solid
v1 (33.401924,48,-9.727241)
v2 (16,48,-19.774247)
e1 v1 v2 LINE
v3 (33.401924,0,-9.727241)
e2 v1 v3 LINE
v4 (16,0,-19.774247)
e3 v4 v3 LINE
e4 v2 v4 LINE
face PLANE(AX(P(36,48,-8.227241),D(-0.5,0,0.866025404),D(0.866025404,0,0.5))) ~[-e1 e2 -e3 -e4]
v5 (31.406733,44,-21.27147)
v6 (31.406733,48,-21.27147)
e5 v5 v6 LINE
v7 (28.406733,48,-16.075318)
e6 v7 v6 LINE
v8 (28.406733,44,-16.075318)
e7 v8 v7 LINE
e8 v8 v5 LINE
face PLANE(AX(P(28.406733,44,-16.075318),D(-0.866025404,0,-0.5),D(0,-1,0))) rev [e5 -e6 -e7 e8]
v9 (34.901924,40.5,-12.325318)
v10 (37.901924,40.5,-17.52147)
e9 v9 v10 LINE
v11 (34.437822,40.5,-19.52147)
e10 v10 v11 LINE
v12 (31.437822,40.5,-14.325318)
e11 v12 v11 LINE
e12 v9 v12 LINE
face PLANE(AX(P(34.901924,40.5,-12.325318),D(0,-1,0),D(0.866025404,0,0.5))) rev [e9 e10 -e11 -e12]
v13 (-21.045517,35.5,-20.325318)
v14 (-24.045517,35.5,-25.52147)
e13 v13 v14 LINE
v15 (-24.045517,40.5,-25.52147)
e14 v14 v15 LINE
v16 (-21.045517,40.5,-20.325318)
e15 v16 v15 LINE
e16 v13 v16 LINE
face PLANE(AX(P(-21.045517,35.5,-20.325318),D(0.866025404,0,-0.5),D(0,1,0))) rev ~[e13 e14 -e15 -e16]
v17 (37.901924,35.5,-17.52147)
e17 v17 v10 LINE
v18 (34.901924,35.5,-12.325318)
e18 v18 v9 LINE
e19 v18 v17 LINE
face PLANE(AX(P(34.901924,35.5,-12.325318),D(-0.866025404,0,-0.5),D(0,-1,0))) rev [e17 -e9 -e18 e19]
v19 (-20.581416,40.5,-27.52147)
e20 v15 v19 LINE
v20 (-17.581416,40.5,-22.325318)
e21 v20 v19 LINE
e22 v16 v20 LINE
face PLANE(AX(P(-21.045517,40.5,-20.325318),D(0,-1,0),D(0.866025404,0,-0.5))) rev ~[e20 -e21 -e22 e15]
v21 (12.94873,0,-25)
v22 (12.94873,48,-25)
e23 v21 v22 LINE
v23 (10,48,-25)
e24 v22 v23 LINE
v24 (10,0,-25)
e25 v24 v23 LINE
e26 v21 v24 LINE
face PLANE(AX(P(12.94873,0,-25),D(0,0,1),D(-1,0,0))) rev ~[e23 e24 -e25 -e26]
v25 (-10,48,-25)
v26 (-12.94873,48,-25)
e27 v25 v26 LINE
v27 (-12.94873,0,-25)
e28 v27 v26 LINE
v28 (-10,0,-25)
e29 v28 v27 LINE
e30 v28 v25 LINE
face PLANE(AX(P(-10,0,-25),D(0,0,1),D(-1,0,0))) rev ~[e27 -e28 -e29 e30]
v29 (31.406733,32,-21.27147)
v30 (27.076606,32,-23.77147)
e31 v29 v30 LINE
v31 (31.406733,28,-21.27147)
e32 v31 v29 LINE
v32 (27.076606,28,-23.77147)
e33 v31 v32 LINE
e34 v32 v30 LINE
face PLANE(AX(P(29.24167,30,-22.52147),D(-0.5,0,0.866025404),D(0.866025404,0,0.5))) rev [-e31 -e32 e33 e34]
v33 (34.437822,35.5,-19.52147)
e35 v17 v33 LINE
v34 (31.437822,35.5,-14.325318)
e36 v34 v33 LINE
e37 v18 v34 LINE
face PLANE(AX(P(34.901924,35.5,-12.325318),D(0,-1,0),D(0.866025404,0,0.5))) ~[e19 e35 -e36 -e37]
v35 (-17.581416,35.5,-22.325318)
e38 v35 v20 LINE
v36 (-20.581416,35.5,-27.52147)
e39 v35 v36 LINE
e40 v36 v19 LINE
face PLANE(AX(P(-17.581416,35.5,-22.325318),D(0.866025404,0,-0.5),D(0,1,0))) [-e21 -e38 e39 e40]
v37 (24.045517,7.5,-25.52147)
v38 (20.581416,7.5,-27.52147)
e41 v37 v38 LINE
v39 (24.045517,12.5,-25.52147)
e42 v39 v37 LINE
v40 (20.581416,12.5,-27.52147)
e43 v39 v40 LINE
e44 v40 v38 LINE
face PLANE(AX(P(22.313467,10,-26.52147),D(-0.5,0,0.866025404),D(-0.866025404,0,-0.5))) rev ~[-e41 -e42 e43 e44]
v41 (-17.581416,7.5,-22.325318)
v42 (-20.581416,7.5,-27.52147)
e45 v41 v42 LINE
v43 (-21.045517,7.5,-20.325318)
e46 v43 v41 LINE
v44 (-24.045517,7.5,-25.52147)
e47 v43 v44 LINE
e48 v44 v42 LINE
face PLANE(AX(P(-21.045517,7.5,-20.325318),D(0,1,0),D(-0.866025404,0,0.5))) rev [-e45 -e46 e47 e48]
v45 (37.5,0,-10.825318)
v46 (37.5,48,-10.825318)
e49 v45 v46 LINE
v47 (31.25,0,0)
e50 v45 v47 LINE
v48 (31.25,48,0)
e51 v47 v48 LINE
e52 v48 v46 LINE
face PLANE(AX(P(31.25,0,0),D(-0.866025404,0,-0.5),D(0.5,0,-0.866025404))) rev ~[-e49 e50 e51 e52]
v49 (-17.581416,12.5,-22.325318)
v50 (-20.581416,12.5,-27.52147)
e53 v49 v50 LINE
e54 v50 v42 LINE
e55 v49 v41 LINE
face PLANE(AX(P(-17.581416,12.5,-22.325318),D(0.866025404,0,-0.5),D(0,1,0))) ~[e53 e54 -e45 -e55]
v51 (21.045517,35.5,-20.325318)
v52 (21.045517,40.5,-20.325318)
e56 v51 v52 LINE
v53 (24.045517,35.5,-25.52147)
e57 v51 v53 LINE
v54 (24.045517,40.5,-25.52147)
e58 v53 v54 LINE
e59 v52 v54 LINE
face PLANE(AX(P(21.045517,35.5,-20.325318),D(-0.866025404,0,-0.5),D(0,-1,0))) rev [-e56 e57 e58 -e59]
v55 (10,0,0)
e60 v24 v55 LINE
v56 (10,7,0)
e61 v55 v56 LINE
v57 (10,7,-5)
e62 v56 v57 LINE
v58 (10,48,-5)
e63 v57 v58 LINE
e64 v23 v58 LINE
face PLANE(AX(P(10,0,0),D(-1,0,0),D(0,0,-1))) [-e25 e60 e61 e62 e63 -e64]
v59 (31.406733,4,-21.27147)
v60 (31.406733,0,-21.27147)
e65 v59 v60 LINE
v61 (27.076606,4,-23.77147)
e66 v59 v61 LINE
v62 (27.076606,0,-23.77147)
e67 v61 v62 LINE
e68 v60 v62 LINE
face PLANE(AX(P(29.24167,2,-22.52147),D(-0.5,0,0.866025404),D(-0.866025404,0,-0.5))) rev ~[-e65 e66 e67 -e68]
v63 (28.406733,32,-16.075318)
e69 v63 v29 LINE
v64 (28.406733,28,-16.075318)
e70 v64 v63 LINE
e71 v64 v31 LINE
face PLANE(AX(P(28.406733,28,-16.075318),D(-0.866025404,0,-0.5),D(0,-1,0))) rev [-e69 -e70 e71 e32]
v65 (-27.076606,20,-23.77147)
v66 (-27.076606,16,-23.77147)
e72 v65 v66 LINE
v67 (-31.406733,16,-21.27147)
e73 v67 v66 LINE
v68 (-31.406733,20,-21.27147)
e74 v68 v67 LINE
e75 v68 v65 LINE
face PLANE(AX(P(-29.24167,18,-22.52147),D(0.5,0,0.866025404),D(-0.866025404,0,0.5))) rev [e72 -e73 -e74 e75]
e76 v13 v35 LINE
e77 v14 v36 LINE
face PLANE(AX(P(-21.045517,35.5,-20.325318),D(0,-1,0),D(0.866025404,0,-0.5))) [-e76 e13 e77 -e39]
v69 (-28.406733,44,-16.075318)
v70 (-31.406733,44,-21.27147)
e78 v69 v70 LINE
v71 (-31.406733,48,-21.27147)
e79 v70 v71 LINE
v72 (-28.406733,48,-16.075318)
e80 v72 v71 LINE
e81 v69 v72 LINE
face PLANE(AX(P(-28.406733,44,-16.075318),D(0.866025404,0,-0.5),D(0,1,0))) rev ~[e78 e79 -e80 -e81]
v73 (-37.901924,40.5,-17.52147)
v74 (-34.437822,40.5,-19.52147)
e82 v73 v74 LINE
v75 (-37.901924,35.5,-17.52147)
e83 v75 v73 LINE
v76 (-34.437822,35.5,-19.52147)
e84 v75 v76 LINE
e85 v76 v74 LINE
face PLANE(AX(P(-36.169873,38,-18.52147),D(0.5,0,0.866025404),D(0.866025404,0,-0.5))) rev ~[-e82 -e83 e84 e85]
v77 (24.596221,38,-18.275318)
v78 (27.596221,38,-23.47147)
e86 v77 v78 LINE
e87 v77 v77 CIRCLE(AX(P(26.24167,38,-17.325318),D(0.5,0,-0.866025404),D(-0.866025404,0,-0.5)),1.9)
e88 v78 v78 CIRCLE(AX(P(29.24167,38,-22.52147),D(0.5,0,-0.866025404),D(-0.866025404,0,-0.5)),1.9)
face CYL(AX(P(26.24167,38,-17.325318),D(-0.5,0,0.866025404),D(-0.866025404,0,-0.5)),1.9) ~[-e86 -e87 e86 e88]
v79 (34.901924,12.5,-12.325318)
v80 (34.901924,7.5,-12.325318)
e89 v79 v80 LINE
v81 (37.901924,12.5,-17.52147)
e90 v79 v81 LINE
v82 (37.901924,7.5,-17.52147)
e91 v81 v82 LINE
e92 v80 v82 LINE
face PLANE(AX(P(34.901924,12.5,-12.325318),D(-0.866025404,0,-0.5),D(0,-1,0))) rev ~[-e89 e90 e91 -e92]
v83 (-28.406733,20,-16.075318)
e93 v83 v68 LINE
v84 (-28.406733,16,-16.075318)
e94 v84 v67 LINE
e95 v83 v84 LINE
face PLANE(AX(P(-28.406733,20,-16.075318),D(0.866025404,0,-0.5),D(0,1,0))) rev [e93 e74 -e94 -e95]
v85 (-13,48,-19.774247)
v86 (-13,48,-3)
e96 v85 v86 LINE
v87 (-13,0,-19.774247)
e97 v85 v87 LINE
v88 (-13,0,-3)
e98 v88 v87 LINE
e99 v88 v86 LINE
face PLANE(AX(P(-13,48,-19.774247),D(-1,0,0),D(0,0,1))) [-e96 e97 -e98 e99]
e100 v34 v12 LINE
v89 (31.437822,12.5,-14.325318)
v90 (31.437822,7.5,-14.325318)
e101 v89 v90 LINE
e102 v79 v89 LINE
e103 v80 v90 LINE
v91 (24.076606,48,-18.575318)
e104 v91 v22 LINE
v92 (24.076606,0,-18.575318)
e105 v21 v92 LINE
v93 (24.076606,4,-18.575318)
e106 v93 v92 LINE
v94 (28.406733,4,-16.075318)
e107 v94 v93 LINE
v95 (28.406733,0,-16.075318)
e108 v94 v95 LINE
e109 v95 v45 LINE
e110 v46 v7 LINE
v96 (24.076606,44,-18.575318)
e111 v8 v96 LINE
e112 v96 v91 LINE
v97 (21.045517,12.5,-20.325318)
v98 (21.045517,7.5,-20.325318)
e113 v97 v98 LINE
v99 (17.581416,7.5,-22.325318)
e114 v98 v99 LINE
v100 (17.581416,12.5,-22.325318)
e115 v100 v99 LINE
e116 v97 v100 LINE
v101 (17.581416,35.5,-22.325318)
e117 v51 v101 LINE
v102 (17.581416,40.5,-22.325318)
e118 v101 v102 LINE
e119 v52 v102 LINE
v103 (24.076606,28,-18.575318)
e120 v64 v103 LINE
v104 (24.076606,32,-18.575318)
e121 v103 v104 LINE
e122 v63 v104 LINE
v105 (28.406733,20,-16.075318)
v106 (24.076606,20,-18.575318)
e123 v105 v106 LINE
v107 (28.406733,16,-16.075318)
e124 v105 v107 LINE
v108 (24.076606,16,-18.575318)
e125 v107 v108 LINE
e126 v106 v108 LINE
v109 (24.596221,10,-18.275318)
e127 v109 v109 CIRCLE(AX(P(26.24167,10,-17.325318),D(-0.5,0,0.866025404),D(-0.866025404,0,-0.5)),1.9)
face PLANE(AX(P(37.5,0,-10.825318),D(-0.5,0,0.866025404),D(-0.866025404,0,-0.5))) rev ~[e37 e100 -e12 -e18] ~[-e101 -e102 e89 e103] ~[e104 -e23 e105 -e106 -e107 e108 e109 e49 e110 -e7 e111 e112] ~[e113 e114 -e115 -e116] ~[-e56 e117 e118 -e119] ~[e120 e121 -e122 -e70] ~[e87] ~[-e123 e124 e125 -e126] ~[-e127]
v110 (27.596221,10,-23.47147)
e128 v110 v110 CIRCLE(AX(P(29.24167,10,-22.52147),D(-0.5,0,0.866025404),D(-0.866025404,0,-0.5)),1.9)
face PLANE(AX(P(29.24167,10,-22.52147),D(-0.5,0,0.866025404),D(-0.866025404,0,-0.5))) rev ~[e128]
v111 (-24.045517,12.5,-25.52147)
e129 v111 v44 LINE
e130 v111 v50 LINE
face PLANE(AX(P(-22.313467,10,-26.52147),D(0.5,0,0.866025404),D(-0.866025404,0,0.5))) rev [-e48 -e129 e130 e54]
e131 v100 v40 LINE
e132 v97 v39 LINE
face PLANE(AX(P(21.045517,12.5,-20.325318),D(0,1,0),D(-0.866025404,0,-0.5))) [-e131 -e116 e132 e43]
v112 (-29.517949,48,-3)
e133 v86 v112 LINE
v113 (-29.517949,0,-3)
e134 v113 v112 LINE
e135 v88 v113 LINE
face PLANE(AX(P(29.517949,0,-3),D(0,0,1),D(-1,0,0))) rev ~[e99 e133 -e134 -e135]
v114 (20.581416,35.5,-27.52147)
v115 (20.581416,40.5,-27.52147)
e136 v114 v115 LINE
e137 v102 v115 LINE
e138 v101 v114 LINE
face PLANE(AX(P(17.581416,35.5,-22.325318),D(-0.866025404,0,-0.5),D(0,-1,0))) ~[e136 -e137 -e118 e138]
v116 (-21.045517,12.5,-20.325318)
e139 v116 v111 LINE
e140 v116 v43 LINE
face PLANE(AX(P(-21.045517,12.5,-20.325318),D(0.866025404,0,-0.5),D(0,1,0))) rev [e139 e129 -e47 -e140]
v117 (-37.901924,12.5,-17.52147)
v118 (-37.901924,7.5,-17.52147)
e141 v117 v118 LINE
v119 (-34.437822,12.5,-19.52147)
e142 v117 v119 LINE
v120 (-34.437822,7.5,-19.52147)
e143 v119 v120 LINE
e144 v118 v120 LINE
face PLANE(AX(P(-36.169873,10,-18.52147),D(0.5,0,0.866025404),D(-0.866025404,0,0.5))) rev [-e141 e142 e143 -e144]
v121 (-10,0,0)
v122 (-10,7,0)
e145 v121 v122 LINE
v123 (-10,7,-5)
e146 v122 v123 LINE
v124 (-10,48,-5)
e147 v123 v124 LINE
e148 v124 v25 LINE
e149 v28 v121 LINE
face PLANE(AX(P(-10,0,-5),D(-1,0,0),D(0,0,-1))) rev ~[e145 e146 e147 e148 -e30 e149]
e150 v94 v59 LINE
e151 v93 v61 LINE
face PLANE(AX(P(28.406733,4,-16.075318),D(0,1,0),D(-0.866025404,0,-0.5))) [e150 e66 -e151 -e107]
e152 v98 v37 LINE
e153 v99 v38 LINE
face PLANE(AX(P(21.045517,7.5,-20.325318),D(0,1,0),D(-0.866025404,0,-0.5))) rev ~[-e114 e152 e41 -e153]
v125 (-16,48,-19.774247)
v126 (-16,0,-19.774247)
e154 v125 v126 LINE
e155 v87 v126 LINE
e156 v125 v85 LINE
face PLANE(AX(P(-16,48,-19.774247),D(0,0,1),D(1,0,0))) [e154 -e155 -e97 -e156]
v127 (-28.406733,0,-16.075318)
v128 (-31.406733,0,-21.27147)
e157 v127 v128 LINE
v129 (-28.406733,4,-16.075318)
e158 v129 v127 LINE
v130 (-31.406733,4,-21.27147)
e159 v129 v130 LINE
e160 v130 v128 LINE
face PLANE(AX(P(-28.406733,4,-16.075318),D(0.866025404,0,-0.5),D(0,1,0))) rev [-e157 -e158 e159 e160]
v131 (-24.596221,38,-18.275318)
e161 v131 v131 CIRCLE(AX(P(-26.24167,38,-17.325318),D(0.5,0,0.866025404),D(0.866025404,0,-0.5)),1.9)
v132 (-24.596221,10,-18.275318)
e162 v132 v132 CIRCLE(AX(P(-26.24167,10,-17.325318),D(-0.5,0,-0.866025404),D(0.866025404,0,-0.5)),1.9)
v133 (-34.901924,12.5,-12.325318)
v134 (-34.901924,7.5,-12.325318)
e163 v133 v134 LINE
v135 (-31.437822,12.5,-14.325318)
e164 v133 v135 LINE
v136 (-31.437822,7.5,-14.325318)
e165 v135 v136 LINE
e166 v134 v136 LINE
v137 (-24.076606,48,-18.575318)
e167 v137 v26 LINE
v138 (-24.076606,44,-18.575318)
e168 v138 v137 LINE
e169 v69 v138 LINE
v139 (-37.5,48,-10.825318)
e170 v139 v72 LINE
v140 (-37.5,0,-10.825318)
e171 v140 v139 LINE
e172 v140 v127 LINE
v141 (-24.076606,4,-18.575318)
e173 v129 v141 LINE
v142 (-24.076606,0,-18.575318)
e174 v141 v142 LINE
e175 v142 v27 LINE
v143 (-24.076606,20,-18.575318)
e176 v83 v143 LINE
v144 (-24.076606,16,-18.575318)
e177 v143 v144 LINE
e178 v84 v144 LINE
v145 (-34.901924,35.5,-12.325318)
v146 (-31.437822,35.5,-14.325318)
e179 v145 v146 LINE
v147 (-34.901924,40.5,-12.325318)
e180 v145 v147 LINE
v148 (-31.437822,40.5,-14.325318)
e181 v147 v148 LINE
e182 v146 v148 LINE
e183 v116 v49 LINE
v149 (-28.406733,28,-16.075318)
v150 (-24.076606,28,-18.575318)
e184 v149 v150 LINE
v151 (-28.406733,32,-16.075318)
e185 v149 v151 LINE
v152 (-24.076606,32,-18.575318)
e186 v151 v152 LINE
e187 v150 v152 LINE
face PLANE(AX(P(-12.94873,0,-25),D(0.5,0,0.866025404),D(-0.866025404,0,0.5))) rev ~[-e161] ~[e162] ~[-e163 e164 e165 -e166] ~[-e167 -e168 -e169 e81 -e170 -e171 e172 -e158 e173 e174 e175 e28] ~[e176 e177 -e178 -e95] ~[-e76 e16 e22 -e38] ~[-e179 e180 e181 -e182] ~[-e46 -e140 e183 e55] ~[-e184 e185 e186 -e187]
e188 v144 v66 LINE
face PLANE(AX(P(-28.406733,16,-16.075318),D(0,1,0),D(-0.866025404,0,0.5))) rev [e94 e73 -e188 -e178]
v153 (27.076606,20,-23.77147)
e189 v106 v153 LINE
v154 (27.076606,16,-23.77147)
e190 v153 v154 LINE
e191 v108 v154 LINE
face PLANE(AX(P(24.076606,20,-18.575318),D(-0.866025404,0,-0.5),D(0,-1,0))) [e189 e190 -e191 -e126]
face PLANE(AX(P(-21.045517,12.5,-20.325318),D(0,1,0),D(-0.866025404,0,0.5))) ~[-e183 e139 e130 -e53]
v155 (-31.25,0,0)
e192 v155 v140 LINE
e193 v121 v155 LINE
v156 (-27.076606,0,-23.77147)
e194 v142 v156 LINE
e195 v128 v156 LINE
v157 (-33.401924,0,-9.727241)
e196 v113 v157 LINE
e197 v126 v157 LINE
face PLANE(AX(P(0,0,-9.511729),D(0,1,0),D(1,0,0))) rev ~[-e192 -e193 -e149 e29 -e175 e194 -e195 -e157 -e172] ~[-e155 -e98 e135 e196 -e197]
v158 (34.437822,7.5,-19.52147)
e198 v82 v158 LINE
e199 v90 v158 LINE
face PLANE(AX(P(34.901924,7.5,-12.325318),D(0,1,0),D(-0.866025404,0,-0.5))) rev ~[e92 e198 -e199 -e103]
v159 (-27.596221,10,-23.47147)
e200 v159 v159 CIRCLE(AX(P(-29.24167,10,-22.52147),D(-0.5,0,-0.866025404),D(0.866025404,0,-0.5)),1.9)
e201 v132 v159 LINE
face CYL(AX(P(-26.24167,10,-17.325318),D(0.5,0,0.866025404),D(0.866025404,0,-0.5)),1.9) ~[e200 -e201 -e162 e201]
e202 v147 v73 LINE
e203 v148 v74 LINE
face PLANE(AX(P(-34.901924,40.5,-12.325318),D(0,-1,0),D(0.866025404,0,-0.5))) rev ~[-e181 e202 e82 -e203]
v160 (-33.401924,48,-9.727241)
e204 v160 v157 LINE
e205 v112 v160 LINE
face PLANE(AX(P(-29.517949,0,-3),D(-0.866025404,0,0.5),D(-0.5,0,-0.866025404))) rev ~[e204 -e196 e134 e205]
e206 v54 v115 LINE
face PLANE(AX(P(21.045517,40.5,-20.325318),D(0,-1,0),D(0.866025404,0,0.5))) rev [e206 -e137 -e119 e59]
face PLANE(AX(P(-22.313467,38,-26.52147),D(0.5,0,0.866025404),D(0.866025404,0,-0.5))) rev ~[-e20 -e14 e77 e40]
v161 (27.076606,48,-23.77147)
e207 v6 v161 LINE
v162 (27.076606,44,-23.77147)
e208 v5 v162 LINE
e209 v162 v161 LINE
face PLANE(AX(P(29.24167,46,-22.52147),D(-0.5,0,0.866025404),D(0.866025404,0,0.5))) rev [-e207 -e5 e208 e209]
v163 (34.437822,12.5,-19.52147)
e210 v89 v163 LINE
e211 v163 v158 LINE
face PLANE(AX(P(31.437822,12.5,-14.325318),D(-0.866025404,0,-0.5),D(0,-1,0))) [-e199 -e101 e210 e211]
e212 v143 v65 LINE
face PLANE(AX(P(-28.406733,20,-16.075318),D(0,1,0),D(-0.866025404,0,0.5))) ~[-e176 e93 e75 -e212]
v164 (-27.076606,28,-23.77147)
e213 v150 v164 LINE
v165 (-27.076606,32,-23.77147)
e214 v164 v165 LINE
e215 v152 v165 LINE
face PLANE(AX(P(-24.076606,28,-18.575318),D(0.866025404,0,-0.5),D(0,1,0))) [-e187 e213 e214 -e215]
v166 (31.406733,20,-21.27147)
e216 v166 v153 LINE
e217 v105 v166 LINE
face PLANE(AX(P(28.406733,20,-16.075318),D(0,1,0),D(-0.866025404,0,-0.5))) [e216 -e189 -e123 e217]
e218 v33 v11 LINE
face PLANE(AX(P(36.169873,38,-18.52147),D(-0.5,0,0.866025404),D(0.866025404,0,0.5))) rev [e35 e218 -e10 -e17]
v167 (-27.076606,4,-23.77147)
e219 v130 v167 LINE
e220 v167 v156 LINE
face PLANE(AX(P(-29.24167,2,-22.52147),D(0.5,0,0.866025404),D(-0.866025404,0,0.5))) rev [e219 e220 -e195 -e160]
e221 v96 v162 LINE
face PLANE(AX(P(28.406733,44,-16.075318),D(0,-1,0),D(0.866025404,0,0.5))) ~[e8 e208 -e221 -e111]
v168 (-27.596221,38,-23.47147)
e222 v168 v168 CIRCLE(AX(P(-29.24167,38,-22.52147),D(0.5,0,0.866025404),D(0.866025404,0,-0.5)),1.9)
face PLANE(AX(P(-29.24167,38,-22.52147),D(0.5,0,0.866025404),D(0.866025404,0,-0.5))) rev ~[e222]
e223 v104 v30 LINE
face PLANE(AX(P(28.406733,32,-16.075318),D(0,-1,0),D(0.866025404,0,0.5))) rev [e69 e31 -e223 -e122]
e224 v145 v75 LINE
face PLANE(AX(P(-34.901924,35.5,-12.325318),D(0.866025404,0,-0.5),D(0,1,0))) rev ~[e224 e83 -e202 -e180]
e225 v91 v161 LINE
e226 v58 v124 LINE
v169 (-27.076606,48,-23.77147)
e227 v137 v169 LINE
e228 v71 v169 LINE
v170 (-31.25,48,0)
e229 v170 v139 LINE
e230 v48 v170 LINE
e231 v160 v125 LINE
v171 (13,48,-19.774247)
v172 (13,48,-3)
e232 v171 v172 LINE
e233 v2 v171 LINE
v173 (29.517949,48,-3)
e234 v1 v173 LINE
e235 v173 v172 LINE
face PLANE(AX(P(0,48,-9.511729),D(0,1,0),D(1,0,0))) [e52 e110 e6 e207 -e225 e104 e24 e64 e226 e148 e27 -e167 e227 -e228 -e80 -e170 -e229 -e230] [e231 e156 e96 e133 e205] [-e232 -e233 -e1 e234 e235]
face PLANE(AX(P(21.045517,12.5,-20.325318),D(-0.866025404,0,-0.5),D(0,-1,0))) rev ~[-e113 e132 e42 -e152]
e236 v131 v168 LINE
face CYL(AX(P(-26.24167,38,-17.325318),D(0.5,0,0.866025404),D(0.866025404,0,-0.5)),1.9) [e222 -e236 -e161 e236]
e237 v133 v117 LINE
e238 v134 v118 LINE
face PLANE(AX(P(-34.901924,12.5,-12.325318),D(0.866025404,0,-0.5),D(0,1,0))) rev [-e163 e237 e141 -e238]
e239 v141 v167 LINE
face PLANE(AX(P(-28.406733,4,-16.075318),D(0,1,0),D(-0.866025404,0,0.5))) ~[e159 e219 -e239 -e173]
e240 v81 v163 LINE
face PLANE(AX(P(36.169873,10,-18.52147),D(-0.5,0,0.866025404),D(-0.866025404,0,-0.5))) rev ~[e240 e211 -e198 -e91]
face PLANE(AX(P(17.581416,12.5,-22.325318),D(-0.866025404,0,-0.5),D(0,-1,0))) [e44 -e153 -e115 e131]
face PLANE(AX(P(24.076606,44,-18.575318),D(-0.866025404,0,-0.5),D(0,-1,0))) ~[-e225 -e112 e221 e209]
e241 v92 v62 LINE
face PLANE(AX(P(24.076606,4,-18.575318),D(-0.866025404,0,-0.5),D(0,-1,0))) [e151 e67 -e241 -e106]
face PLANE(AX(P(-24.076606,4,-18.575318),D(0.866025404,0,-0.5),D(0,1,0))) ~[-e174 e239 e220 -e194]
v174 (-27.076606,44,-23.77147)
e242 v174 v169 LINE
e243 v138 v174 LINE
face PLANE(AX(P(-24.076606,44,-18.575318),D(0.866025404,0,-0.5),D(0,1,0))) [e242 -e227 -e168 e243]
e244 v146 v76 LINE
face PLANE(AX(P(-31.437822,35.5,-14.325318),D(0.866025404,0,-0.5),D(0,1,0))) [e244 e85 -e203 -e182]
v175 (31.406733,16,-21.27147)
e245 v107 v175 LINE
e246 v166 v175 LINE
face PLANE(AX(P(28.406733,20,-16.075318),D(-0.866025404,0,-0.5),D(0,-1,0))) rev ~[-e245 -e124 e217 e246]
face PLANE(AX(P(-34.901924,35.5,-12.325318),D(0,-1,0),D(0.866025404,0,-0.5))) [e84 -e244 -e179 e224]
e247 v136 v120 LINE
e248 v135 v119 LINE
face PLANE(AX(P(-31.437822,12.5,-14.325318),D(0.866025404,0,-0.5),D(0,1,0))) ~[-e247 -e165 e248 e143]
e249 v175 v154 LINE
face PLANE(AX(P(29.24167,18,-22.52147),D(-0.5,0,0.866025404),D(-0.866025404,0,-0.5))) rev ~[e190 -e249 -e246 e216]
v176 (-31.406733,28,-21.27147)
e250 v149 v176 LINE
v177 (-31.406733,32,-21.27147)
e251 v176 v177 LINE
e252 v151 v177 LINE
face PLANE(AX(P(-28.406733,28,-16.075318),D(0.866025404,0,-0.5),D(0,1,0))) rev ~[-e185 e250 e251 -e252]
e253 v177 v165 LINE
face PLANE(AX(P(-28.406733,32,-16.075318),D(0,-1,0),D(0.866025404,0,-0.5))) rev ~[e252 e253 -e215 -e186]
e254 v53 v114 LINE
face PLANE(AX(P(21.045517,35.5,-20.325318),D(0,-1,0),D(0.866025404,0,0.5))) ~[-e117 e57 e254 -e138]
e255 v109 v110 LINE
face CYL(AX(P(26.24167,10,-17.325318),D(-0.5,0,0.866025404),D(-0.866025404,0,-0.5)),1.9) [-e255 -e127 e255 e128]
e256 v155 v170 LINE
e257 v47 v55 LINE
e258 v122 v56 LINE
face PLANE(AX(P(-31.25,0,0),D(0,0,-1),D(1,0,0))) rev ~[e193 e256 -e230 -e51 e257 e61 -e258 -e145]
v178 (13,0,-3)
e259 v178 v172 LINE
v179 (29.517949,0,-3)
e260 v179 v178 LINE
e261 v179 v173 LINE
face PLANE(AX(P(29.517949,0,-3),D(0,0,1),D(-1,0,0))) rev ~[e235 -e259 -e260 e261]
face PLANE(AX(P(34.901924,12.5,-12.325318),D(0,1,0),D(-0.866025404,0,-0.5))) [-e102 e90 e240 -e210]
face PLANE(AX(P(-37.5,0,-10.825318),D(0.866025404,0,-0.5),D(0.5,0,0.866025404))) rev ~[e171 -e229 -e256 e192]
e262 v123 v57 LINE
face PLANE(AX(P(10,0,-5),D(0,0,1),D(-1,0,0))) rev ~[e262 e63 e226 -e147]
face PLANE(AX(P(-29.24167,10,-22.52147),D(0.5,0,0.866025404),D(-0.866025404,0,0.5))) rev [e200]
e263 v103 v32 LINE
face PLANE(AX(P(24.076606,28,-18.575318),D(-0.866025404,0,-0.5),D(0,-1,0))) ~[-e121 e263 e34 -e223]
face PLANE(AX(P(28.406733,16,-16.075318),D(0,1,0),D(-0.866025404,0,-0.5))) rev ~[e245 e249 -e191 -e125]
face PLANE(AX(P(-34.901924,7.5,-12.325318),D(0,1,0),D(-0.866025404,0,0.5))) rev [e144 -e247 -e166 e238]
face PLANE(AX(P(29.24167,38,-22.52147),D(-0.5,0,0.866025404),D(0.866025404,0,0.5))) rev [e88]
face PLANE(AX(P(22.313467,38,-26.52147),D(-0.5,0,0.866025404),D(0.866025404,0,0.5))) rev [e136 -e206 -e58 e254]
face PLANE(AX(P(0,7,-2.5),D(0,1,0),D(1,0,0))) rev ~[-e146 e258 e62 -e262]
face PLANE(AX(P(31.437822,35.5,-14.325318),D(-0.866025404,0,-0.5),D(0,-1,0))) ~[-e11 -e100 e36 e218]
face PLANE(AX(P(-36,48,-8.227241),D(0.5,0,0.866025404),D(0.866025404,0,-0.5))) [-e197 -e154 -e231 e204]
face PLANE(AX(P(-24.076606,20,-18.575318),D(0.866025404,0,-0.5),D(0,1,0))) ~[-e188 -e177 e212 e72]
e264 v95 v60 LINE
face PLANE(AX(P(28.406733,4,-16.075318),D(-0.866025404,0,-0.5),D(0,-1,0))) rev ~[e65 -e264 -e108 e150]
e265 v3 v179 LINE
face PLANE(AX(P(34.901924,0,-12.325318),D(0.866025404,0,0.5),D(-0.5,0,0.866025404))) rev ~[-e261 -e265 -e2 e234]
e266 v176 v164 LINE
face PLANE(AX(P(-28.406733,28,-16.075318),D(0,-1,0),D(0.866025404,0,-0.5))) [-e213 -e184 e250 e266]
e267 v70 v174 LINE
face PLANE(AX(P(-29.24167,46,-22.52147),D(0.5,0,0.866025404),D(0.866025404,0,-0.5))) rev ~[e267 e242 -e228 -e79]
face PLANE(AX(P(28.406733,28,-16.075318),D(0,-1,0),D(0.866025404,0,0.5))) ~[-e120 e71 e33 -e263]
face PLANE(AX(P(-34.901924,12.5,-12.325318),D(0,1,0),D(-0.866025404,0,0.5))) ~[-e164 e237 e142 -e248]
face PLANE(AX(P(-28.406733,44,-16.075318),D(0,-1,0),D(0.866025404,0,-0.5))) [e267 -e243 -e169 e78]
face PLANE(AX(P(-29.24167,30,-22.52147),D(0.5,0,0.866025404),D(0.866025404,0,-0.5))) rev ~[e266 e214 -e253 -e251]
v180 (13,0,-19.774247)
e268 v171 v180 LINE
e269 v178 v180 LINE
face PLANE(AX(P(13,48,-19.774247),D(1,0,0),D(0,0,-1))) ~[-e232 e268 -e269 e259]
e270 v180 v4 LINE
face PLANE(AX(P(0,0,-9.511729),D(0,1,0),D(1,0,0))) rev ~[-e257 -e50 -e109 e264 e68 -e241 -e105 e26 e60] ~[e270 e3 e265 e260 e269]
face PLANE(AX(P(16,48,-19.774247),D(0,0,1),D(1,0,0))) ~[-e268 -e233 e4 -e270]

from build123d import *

# Parameters (mm, degrees)
BOSS_EXTRU_1_DEPTH          = 48
ENL_V_MAT_EXTRU_1_REACH     = 67.843
BOSS_EXTRU_2_DEPTH          = 48
ESQUISSE3_R                 = 1.9
ESQUISSE3_W                 = 5
ESQUISSE3_H                 = 4
ESQUISSE3_W_2               = 4
ESQUISSE3_H_2               = 5
BOSS_EXTRU_3_DEPTH          = 6
SYM_TRIE3_COPY_1_SKETCH_R   = 1.9
SYM_TRIE3_COPY_1_SKETCH_W   = 5
SYM_TRIE3_COPY_1_SKETCH_H   = 4
SYM_TRIE3_COPY_1_SKETCH_W_2 = 4
SYM_TRIE3_COPY_1_SKETCH_H_2 = 5
SYM_TRIE3_COPY_1_DEPTH      = 6
ESQUISSE5_W                 = 20
ESQUISSE5_H                 = 5
ENL_V_MAT_EXTRU_2_DEPTH     = 7


with BuildPart() as part:
    # Esquisse1 → Boss.-Extru.1 (new body)
    with BuildSketch(Plane(origin=(0, 0, 0), x_dir=(1, 0, 0), z_dir=(0, 1, 0))):
        Polygon((-31.25, 0), (31.25, 0), (37.5, 10.825317547), (12.948729811, 25), (10, 25), (10, 5), (-10, 5), (-10, 25), (-12.948729811, 25), (-37.5, 10.825317547), align=None)
    extrude(amount=BOSS_EXTRU_1_DEPTH)

    # Esquisse2 → Enlèv. mat.-Extru.1 (cut, up to next)
    with BuildSketch(Plane(origin=(0, 48, 0), x_dir=(1, 0, 0), z_dir=(0, 1, 0)), mode=Mode.PRIVATE) as enl_v_mat_extru_1_sk1:
        Polygon((-36, 8.227241336), (-16, 19.77424672), (-13, 19.77424672), (-13, 0), (-31.25, 0), align=None)
    enl_v_mat_extru_1_tool1 = extrude(enl_v_mat_extru_1_sk1.sketch, amount=-ENL_V_MAT_EXTRU_1_REACH, mode=Mode.PRIVATE) & part.part
    enl_v_mat_extru_1 = enl_v_mat_extru_1_tool1.solids().sort_by_distance((-22.148909, 48, -8.14347))[0]
    add(enl_v_mat_extru_1, mode=Mode.SUBTRACT)

    # Symétrie1: Enlèv. mat.-Extru.1 across plane
    add(enl_v_mat_extru_1.mirror(Plane(origin=(0, 0, 0), x_dir=(0, 0, 1), z_dir=(1, 0, 0))), mode=Mode.SUBTRACT)

    # Esquisse4 → Boss.-Extru.2 (add)
    with BuildSketch(Plane(origin=(0, 0, 0), x_dir=(1, 0, 0), z_dir=(0, 1, 0))):
        Polygon((-37.5, 10.825317547), (-31.25, 0), (31.25, 0), (37.5, 10.825317547), (34.901923789, 12.325317547), (29.517949192, 3), (-29.517949192, 3), (-34.901923789, 12.325317547), align=None)
    extrude(amount=BOSS_EXTRU_2_DEPTH)

    # Esquisse3 → Boss.-Extru.3 (add)
    with BuildSketch(Plane(origin=(-14.0625, 0, -24.356964481), x_dir=(0.8660254037844396, 0, -0.4999999999999984), z_dir=(0.49999999999999833, 0, 0.8660254037844395))):
        with Locations((-14.063293868, 38)):
            Circle(ESQUISSE3_R)
        with Locations((-14.063293868, 46)):
            Rectangle(ESQUISSE3_W, ESQUISSE3_H)
        with Locations((-22.063293868, 38)):
            Rectangle(ESQUISSE3_W_2, ESQUISSE3_H_2)
        with Locations((-6.063293868, 38)):
            Rectangle(ESQUISSE3_W_2, ESQUISSE3_H_2)
        with Locations((-14.063293868, 30)):
            Rectangle(ESQUISSE3_W, ESQUISSE3_H)
    boss_extru_3 = extrude(amount=-BOSS_EXTRU_3_DEPTH)

    # Symétrie2: Boss.-Extru.3 across plane
    add(boss_extru_3.mirror(Plane.ZX.offset(24)))

    # Symétrie3: Boss.-Extru.3 across plane
    add(boss_extru_3.mirror(Plane(origin=(0, 0, 0), x_dir=(0, 0, 1), z_dir=(1, 0, 0))))

    # Symétrie3 copy 1 sketch → Symétrie3 copy 1 (add)
    with BuildSketch(Plane(origin=(14.0625, 48, -24.356964481), x_dir=(-0.8660254037844396, 0, -0.4999999999999984), z_dir=(-0.49999999999999833, 0, 0.8660254037844395))):
        with Locations((-14.063293868, 38)):
            Circle(SYM_TRIE3_COPY_1_SKETCH_R)
        with Locations((-14.063293868, 46)):
            Rectangle(SYM_TRIE3_COPY_1_SKETCH_W, SYM_TRIE3_COPY_1_SKETCH_H)
        with Locations((-22.063293868, 38)):
            Rectangle(SYM_TRIE3_COPY_1_SKETCH_W_2, SYM_TRIE3_COPY_1_SKETCH_H_2)
        with Locations((-6.063293868, 38)):
            Rectangle(SYM_TRIE3_COPY_1_SKETCH_W_2, SYM_TRIE3_COPY_1_SKETCH_H_2)
        with Locations((-14.063293868, 30)):
            Rectangle(SYM_TRIE3_COPY_1_SKETCH_W, SYM_TRIE3_COPY_1_SKETCH_H)
    extrude(amount=-SYM_TRIE3_COPY_1_DEPTH)

    # Esquisse5 → Enlèv. mat.-Extru.2 (cut)
    with BuildSketch(Plane(origin=(0, 0, 0), x_dir=(1, 0, 0), z_dir=(0, 1, 0))):
        with Locations((0, 2.5)):
            Rectangle(ESQUISSE5_W, ESQUISSE5_H)
    extrude(amount=ENL_V_MAT_EXTRU_2_DEPTH, mode=Mode.SUBTRACT)


solid = part.part
